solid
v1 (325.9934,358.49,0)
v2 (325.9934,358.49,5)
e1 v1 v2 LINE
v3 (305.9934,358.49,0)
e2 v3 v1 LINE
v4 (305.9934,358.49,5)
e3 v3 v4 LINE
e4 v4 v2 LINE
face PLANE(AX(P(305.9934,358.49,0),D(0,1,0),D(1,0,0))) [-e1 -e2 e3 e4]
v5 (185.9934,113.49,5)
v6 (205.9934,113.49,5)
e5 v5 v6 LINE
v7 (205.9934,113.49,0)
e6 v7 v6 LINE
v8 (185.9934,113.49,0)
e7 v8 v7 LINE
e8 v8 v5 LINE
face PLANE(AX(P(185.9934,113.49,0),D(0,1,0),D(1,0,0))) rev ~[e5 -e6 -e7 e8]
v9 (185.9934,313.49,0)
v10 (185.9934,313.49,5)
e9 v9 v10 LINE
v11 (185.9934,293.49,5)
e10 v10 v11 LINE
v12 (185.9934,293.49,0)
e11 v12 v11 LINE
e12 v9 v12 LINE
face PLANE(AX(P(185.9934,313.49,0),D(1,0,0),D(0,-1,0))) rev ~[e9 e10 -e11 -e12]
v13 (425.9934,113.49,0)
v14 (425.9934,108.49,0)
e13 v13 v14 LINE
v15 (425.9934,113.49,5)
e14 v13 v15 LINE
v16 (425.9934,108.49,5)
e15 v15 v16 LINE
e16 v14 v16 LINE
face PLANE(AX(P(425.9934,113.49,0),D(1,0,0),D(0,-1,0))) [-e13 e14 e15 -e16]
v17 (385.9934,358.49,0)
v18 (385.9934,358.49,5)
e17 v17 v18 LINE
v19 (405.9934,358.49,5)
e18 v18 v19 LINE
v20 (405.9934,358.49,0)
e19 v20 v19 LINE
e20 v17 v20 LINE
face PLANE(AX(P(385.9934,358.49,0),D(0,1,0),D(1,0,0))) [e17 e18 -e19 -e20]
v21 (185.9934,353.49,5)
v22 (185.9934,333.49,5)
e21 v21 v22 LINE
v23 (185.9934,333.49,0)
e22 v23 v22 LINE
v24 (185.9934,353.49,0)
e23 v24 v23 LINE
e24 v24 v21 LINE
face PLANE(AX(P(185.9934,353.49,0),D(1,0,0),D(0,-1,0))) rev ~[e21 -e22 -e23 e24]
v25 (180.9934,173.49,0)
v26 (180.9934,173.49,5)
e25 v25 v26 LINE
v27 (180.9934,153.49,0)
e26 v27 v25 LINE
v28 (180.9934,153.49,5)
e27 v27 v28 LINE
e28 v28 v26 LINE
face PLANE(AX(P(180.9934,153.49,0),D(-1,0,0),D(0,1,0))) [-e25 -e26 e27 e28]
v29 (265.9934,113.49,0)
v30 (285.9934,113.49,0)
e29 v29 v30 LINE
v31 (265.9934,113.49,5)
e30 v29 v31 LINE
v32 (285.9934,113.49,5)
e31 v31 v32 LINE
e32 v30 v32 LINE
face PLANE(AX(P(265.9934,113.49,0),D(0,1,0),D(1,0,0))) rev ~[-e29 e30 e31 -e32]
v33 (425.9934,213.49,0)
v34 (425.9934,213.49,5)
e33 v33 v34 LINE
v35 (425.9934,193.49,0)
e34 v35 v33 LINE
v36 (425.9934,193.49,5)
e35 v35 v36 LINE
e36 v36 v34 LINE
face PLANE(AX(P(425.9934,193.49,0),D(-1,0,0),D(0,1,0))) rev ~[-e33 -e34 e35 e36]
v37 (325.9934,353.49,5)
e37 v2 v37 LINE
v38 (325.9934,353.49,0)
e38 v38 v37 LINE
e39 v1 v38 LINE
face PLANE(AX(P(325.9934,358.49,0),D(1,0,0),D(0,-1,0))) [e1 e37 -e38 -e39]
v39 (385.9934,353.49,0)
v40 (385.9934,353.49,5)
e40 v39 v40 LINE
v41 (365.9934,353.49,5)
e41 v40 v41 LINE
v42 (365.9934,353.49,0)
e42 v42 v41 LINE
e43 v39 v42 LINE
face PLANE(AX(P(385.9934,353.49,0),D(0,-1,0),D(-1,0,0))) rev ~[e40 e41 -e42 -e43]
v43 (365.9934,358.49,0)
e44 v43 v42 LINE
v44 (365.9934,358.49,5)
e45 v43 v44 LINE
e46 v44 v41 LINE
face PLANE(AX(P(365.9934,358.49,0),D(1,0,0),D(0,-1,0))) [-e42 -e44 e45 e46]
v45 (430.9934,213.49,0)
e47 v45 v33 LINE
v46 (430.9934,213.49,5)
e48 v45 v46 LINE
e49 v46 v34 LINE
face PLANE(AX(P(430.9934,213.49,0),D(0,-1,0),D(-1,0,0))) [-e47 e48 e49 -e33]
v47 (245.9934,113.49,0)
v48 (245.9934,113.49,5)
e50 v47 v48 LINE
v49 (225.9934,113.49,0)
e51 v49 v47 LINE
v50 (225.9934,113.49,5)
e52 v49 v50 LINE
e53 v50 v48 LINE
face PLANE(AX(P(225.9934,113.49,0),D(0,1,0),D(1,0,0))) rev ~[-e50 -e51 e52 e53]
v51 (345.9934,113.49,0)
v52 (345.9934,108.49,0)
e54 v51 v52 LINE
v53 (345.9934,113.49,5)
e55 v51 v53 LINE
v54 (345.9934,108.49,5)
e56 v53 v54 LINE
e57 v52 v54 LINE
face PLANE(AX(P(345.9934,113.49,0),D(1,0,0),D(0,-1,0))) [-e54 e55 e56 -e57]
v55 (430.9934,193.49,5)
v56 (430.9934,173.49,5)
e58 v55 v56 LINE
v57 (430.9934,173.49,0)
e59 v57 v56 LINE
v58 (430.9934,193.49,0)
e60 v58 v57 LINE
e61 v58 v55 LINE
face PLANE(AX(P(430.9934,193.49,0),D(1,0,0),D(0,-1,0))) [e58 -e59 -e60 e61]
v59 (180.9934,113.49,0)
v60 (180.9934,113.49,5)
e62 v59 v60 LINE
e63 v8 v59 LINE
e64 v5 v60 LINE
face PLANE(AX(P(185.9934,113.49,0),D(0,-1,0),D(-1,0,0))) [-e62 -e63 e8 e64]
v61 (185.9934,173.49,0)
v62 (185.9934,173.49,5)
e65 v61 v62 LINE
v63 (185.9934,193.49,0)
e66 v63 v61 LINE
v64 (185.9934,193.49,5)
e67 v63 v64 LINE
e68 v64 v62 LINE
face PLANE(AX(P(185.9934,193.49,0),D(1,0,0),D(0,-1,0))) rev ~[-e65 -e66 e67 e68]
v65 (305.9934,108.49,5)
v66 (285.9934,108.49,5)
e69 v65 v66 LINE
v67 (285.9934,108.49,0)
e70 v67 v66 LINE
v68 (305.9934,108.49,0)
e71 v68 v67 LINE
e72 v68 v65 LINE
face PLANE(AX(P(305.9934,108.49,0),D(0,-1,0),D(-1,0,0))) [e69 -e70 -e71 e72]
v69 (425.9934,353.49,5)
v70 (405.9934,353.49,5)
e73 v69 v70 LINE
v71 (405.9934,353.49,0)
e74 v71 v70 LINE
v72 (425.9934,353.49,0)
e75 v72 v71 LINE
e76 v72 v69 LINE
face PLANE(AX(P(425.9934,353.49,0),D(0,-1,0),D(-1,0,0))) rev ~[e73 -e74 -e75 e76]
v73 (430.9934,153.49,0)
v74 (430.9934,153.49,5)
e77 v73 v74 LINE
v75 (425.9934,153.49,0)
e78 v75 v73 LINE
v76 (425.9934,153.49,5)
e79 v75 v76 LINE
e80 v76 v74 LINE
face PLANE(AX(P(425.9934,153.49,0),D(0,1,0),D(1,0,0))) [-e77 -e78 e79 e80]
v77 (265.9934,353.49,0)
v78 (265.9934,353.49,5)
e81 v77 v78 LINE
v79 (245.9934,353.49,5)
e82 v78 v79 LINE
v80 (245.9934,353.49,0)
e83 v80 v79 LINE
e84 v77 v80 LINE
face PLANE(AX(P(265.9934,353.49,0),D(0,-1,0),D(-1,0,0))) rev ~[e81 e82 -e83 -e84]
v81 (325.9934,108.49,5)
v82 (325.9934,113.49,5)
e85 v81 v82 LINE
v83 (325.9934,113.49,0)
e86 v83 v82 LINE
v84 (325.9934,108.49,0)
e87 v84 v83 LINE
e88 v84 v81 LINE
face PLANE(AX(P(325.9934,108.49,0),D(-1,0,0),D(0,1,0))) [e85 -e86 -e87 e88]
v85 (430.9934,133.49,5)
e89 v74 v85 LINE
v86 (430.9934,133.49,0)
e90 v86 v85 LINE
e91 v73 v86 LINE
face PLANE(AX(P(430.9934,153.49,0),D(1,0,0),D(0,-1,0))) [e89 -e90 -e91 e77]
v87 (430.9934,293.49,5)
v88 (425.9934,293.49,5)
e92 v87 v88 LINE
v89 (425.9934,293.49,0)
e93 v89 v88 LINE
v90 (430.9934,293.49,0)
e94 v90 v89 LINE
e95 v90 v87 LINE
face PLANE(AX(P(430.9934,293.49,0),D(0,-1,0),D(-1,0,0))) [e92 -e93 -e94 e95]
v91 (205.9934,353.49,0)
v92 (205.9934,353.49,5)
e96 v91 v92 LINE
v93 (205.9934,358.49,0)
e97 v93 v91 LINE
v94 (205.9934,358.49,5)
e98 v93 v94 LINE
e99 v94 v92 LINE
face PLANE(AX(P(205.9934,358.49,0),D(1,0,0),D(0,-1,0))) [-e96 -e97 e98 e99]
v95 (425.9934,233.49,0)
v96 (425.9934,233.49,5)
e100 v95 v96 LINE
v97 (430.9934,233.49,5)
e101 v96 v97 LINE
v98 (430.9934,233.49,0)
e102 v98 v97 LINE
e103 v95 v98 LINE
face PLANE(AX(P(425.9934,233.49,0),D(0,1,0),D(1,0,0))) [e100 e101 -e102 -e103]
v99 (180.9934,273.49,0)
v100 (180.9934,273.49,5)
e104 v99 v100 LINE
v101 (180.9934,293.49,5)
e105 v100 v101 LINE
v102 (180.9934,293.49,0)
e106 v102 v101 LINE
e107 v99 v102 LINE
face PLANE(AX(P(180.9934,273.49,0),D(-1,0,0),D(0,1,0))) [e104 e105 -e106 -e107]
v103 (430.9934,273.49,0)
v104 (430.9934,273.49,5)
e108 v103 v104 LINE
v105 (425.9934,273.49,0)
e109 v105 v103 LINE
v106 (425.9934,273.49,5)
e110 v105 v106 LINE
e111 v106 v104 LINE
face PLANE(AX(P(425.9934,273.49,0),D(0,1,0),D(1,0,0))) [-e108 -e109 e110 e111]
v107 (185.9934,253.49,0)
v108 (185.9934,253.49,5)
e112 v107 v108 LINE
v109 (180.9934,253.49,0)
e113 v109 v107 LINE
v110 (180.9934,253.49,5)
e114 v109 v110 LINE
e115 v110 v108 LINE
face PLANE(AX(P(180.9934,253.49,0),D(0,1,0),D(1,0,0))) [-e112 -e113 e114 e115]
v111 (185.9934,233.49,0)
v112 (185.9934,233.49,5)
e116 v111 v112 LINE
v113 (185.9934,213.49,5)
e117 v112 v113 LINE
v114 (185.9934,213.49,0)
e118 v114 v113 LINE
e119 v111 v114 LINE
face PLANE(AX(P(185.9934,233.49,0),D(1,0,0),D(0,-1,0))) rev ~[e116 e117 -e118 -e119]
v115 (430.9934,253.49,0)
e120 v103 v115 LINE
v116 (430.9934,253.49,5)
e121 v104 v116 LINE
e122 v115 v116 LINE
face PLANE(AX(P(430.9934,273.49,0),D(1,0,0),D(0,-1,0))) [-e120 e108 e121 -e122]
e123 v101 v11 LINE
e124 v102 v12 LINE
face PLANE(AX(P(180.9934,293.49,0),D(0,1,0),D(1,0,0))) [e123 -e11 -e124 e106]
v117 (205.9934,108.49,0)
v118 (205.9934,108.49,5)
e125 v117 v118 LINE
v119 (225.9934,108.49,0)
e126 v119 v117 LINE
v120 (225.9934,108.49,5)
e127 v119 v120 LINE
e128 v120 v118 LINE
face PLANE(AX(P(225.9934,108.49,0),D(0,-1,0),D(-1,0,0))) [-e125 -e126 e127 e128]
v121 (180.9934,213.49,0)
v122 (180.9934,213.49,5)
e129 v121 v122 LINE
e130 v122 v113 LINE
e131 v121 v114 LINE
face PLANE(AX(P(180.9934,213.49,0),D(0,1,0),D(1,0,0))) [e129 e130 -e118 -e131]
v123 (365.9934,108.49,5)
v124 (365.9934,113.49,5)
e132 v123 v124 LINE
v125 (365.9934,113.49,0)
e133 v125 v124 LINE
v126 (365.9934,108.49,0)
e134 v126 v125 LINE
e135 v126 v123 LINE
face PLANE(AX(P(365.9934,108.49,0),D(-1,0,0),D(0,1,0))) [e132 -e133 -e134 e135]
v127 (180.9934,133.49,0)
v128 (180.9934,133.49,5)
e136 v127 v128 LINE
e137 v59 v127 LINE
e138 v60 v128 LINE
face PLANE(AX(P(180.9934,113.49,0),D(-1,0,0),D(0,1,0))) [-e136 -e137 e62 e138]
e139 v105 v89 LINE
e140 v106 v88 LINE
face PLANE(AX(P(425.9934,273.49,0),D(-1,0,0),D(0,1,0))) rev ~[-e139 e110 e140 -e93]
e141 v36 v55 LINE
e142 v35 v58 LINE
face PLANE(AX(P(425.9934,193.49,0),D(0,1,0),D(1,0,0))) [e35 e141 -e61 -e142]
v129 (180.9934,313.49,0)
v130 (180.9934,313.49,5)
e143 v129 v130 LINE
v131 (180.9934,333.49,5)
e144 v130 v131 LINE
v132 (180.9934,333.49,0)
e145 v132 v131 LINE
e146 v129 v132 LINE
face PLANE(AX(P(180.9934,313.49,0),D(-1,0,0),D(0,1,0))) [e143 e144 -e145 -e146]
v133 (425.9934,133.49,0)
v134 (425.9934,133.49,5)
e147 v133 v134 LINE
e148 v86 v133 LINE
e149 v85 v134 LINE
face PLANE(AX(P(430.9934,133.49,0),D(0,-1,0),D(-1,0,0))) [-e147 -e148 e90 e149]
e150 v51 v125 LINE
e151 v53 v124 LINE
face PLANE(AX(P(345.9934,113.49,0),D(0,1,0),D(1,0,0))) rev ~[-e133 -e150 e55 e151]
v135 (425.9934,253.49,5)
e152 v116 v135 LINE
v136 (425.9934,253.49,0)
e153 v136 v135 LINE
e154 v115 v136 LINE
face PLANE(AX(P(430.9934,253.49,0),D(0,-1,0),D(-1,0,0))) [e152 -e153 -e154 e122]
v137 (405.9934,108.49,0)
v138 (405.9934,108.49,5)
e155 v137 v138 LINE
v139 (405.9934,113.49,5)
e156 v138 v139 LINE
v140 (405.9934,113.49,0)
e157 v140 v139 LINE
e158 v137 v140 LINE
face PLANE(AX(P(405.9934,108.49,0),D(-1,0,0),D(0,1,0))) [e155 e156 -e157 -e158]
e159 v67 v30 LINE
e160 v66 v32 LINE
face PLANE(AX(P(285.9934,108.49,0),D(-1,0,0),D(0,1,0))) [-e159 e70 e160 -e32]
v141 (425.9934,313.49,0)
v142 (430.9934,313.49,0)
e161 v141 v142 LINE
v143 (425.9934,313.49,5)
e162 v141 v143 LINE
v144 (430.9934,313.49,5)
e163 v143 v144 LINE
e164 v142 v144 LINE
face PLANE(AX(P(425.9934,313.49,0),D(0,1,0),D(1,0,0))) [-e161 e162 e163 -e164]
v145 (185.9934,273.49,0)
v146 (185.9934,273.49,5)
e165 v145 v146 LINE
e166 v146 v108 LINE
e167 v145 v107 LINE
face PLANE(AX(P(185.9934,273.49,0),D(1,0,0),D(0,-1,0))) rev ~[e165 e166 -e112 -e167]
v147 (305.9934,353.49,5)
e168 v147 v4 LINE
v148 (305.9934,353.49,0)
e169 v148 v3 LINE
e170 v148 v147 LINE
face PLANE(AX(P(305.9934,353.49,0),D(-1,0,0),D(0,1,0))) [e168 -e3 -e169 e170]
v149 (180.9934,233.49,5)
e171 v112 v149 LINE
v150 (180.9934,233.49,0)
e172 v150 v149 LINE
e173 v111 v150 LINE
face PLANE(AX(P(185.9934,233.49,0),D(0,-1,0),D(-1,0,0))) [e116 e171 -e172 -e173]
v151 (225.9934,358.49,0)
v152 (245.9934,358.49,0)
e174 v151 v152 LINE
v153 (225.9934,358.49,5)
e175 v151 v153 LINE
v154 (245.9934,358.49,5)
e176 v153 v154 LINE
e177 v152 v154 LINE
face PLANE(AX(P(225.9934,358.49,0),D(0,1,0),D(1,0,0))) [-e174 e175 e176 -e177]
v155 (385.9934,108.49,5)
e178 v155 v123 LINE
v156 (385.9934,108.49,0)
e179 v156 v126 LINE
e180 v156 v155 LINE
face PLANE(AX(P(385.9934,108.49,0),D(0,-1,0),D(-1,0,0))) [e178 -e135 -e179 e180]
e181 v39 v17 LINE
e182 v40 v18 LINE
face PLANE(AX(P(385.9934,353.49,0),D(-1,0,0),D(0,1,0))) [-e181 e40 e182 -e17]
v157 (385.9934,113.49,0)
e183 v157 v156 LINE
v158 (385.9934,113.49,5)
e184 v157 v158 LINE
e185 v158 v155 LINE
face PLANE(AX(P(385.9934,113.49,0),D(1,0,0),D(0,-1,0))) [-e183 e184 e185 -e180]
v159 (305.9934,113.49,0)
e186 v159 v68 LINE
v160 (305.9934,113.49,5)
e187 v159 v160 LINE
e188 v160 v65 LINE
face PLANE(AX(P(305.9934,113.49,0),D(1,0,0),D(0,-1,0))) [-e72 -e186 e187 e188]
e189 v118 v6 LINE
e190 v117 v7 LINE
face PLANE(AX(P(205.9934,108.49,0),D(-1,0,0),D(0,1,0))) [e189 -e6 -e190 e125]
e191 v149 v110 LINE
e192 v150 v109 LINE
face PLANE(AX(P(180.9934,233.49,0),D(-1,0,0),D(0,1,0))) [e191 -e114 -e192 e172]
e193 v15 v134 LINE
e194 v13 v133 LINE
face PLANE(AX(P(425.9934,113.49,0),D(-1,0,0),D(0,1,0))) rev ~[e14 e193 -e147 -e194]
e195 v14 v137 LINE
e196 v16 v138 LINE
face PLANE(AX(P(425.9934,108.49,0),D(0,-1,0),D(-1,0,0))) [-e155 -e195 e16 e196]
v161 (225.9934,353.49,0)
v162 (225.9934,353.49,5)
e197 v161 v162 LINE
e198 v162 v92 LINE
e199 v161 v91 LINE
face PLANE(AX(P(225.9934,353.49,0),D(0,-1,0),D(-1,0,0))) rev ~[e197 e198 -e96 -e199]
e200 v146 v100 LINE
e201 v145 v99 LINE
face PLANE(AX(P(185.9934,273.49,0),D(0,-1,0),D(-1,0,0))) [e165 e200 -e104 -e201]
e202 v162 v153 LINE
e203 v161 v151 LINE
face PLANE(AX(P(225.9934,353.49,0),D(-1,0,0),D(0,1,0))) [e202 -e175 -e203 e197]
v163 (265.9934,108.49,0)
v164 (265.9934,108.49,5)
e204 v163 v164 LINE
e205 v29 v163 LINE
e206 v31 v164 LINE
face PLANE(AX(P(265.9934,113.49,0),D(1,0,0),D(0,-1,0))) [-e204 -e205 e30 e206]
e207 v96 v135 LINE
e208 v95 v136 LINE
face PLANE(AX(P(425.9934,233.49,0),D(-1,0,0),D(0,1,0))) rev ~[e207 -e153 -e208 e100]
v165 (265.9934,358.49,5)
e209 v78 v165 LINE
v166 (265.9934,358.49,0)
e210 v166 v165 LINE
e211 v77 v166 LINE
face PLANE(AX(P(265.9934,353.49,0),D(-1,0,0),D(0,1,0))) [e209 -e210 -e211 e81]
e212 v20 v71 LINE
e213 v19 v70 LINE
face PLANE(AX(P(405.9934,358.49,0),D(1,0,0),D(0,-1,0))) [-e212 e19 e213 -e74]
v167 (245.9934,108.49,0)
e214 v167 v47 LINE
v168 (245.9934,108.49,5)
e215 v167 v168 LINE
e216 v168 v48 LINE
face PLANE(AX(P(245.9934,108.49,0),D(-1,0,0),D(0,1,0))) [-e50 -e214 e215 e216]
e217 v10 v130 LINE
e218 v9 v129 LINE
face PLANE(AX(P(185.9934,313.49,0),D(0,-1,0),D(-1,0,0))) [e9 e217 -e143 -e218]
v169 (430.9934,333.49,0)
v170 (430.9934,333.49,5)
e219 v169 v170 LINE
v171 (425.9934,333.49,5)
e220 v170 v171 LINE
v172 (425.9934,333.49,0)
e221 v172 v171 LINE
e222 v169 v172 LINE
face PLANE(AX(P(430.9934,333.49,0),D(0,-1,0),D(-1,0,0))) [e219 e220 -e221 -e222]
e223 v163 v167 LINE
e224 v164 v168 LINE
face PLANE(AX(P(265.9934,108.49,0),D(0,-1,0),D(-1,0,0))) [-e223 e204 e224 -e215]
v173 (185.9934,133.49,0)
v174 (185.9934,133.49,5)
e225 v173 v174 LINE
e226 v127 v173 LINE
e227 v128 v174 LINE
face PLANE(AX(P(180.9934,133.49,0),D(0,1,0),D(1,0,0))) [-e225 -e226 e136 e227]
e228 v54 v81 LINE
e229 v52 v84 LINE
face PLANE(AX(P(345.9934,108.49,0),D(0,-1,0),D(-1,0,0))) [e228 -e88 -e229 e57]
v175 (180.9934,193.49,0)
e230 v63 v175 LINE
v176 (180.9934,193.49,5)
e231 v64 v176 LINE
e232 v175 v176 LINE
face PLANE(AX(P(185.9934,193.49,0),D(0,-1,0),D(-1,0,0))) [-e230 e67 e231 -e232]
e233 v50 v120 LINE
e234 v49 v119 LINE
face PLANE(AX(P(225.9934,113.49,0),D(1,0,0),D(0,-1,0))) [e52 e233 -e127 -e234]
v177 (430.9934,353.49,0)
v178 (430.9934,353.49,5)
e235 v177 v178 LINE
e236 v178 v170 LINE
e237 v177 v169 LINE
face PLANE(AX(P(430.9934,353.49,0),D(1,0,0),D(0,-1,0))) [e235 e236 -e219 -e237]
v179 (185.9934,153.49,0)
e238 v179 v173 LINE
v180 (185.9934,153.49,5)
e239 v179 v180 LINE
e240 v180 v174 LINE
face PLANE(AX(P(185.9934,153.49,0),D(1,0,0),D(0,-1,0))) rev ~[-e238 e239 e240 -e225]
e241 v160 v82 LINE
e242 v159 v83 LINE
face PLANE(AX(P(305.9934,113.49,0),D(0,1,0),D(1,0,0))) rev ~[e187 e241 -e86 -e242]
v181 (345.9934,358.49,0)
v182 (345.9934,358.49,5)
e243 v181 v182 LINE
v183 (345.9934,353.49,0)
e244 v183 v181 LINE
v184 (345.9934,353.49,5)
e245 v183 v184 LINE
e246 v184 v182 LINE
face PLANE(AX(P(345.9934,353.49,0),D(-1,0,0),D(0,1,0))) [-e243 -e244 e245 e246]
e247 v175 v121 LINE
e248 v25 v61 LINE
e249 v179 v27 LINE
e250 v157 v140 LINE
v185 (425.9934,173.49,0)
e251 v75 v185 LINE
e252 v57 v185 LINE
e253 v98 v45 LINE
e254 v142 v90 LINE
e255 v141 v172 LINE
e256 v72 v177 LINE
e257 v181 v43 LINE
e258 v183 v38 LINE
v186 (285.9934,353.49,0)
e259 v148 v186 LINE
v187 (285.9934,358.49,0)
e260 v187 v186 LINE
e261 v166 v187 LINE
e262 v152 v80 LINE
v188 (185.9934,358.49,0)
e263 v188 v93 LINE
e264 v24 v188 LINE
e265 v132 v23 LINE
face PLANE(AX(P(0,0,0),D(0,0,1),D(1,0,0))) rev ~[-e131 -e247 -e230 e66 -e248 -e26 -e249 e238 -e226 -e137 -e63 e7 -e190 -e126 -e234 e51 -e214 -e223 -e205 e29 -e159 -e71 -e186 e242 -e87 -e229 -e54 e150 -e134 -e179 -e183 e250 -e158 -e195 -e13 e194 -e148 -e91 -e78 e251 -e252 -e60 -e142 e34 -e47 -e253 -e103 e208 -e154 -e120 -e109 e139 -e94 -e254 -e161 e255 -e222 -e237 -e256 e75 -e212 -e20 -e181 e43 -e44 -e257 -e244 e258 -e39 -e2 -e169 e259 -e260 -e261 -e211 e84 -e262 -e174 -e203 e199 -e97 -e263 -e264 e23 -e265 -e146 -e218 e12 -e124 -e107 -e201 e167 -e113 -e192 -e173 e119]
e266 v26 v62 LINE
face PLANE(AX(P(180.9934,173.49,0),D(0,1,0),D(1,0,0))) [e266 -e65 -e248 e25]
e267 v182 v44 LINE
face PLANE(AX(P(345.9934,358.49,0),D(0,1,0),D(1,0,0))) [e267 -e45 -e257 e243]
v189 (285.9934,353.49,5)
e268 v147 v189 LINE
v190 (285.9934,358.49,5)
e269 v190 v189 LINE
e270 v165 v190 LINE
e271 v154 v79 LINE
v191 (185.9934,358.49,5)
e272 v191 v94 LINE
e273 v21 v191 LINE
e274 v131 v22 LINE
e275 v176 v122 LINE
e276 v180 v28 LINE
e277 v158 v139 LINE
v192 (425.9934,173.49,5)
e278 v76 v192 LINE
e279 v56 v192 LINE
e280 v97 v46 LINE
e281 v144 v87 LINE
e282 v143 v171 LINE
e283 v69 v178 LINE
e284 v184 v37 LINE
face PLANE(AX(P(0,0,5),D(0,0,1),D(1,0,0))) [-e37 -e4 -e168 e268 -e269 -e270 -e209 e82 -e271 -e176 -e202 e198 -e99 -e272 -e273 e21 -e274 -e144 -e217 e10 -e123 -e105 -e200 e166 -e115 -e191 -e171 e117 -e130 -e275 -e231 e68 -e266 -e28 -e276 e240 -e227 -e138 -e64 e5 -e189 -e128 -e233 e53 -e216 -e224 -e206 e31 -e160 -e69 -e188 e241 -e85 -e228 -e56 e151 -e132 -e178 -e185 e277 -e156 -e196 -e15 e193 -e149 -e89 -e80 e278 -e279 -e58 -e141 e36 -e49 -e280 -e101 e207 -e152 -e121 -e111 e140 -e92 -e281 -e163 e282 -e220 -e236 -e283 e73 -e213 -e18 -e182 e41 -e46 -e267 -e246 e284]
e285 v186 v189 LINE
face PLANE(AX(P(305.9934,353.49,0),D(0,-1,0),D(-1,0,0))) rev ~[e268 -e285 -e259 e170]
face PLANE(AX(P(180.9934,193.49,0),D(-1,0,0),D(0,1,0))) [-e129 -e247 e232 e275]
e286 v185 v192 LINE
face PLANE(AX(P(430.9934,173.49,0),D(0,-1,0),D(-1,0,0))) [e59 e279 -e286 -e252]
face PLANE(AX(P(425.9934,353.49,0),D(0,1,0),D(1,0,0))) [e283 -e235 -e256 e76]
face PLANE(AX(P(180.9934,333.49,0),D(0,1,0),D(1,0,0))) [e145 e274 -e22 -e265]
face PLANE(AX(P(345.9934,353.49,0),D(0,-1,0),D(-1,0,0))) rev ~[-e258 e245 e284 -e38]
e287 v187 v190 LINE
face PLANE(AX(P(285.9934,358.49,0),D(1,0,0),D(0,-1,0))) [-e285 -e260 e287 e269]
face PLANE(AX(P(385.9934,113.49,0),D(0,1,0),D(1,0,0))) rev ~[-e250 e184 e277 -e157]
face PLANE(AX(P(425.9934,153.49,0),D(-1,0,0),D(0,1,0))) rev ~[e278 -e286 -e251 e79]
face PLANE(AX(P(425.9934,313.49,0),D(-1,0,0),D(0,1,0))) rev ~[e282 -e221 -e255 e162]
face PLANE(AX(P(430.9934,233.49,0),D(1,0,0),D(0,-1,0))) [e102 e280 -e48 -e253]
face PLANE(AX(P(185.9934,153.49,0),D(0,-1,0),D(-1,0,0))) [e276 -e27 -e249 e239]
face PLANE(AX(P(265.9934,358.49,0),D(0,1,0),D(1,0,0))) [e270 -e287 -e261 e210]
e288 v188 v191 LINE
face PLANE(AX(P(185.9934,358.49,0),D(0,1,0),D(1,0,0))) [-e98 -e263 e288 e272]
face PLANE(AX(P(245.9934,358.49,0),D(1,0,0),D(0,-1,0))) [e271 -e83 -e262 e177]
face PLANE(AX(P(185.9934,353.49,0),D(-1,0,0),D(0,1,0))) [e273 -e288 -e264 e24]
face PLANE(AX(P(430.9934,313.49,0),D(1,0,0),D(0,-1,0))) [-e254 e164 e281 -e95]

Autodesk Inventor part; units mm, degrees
ref_plane "YZ Plane" through (0, 0, 0) normal (1, 0, 0) x (0, 1, 0)
ref_plane "XZ Plane" through (0, 0, 0) normal (0, 1, 0) x (-1, 0, 0)
ref_plane "XY Plane" through (0, 0, 0) normal (0, 0, 1) x (1, 0, 0)
sketch "Sketch1" plane through (0, 0, 0) normal (0, 0, 1) x (1, 0, 0)
  line L0 (425.9934, 353.49) -> (405.9934, 353.49)
  line L1 (185.9934, 353.49) -> (185.9934, 358.49)
  line L2 (185.9934, 358.49) -> (205.9934, 358.49)
  line L3 (205.9934, 358.49) -> (205.9934, 353.49)
  line L4 (225.9934, 353.49) -> (225.9934, 358.49)
  line L5 (225.9934, 358.49) -> (245.9934, 358.49)
  line L6 (245.9934, 358.49) -> (245.9934, 353.49)
  line L7 (265.9934, 353.49) -> (265.9934, 358.49)
  line L8 (265.9934, 358.49) -> (285.9934, 358.49)
  line L9 (285.9934, 358.49) -> (285.9934, 353.49)
  line L10 (305.9934, 353.49) -> (305.9934, 358.49)
  line L11 (305.9934, 358.49) -> (325.9934, 358.49)
  line L12 (325.9934, 358.49) -> (325.9934, 353.49)
  line L13 (345.9934, 353.49) -> (345.9934, 358.49)
  line L14 (345.9934, 358.49) -> (365.9934, 358.49)
  line L15 (365.9934, 358.49) -> (365.9934, 353.49)
  line L16 (385.9934, 353.49) -> (385.9934, 358.49)
  line L17 (385.9934, 358.49) -> (405.9934, 358.49)
  line L18 (405.9934, 358.49) -> (405.9934, 353.49)
  line L19 (385.9934, 353.49) -> (365.9934, 353.49)
  line L20 (345.9934, 353.49) -> (325.9934, 353.49)
  line L21 (305.9934, 353.49) -> (285.9934, 353.49)
  line L22 (265.9934, 353.49) -> (245.9934, 353.49)
  line L23 (225.9934, 353.49) -> (205.9934, 353.49)
  line L24 (425.9934, 113.49) -> (425.9934, 133.49)
  line L25 (425.9934, 353.49) -> (430.9934, 353.49)
  line L26 (430.9934, 353.49) -> (430.9934, 333.49)
  line L27 (430.9934, 333.49) -> (425.9934, 333.49)
  line L28 (425.9934, 313.49) -> (430.9934, 313.49)
  line L29 (430.9934, 313.49) -> (430.9934, 293.49)
  line L30 (430.9934, 293.49) -> (425.9934, 293.49)
  line L31 (425.9934, 273.49) -> (430.9934, 273.49)
  line L32 (430.9934, 273.49) -> (430.9934, 253.49)
  line L33 (430.9934, 253.49) -> (425.9934, 253.49)
  line L34 (425.9934, 233.49) -> (430.9934, 233.49)
  line L35 (430.9934, 233.49) -> (430.9934, 213.49)
  line L36 (430.9934, 213.49) -> (425.9934, 213.49)
  line L37 (425.9934, 193.49) -> (430.9934, 193.49)
  line L38 (430.9934, 193.49) -> (430.9934, 173.49)
  line L39 (430.9934, 173.49) -> (425.9934, 173.49)
  line L40 (425.9934, 153.49) -> (430.9934, 153.49)
  line L41 (430.9934, 153.49) -> (430.9934, 133.49)
  line L42 (430.9934, 133.49) -> (425.9934, 133.49)
  line L43 (425.9934, 153.49) -> (425.9934, 173.49)
  line L44 (425.9934, 193.49) -> (425.9934, 213.49)
  line L45 (425.9934, 233.49) -> (425.9934, 253.49)
  line L46 (425.9934, 273.49) -> (425.9934, 293.49)
  line L47 (425.9934, 313.49) -> (425.9934, 333.49)
  line L48 (185.9934, 353.49) -> (185.9934, 333.49)
  line L49 (185.9934, 113.49) -> (180.9934, 113.49)
  line L50 (180.9934, 113.49) -> (180.9934, 133.49)
  line L51 (180.9934, 133.49) -> (185.9934, 133.49)
  line L52 (185.9934, 153.49) -> (180.9934, 153.49)
  line L53 (180.9934, 153.49) -> (180.9934, 173.49)
  line L54 (180.9934, 173.49) -> (185.9934, 173.49)
  line L55 (185.9934, 193.49) -> (180.9934, 193.49)
  line L56 (180.9934, 193.49) -> (180.9934, 213.49)
  line L57 (180.9934, 213.49) -> (185.9934, 213.49)
  line L58 (185.9934, 233.49) -> (180.9934, 233.49)
  line L59 (180.9934, 233.49) -> (180.9934, 253.49)
  line L60 (180.9934, 253.49) -> (185.9934, 253.49)
  line L61 (185.9934, 273.49) -> (180.9934, 273.49)
  line L62 (180.9934, 273.49) -> (180.9934, 293.49)
  line L63 (180.9934, 293.49) -> (185.9934, 293.49)
  line L64 (185.9934, 313.49) -> (180.9934, 313.49)
  line L65 (180.9934, 313.49) -> (180.9934, 333.49)
  line L66 (180.9934, 333.49) -> (185.9934, 333.49)
  line L67 (185.9934, 313.49) -> (185.9934, 293.49)
  line L68 (185.9934, 273.49) -> (185.9934, 253.49)
  line L69 (185.9934, 233.49) -> (185.9934, 213.49)
  line L70 (185.9934, 193.49) -> (185.9934, 173.49)
  line L71 (185.9934, 153.49) -> (185.9934, 133.49)
  line L72 (185.9934, 113.49) -> (205.9934, 113.49)
  line L73 (425.9934, 113.49) -> (425.9934, 108.49)
  line L74 (425.9934, 108.49) -> (405.9934, 108.49)
  line L75 (405.9934, 108.49) -> (405.9934, 113.49)
  line L76 (385.9934, 113.49) -> (385.9934, 108.49)
  line L77 (385.9934, 108.49) -> (365.9934, 108.49)
  line L78 (365.9934, 108.49) -> (365.9934, 113.49)
  line L79 (345.9934, 113.49) -> (345.9934, 108.49)
  line L80 (345.9934, 108.49) -> (325.9934, 108.49)
  line L81 (325.9934, 108.49) -> (325.9934, 113.49)
  line L82 (305.9934, 113.49) -> (305.9934, 108.49)
  line L83 (305.9934, 108.49) -> (285.9934, 108.49)
  line L84 (285.9934, 108.49) -> (285.9934, 113.49)
  line L85 (265.9934, 113.49) -> (265.9934, 108.49)
  line L86 (265.9934, 108.49) -> (245.9934, 108.49)
  line L87 (245.9934, 108.49) -> (245.9934, 113.49)
  line L88 (225.9934, 113.49) -> (225.9934, 108.49)
  line L89 (225.9934, 108.49) -> (205.9934, 108.49)
  line L90 (205.9934, 108.49) -> (205.9934, 113.49)
  line L91 (225.9934, 113.49) -> (245.9934, 113.49)
  line L92 (265.9934, 113.49) -> (285.9934, 113.49)
  line L93 (305.9934, 113.49) -> (325.9934, 113.49)
  line L94 (345.9934, 113.49) -> (365.9934, 113.49)
  line L95 (385.9934, 113.49) -> (405.9934, 113.49)
  point P0 (0, 0)
extrude "Extrusion1" add sketch "Sketch1" along normal blind 5
sketch "Sketch2" plane through (0, 0, 5) normal (0, 0, 1) x (1, 0, 0)
  point P0 (0, 0)
properties material "Glass"
